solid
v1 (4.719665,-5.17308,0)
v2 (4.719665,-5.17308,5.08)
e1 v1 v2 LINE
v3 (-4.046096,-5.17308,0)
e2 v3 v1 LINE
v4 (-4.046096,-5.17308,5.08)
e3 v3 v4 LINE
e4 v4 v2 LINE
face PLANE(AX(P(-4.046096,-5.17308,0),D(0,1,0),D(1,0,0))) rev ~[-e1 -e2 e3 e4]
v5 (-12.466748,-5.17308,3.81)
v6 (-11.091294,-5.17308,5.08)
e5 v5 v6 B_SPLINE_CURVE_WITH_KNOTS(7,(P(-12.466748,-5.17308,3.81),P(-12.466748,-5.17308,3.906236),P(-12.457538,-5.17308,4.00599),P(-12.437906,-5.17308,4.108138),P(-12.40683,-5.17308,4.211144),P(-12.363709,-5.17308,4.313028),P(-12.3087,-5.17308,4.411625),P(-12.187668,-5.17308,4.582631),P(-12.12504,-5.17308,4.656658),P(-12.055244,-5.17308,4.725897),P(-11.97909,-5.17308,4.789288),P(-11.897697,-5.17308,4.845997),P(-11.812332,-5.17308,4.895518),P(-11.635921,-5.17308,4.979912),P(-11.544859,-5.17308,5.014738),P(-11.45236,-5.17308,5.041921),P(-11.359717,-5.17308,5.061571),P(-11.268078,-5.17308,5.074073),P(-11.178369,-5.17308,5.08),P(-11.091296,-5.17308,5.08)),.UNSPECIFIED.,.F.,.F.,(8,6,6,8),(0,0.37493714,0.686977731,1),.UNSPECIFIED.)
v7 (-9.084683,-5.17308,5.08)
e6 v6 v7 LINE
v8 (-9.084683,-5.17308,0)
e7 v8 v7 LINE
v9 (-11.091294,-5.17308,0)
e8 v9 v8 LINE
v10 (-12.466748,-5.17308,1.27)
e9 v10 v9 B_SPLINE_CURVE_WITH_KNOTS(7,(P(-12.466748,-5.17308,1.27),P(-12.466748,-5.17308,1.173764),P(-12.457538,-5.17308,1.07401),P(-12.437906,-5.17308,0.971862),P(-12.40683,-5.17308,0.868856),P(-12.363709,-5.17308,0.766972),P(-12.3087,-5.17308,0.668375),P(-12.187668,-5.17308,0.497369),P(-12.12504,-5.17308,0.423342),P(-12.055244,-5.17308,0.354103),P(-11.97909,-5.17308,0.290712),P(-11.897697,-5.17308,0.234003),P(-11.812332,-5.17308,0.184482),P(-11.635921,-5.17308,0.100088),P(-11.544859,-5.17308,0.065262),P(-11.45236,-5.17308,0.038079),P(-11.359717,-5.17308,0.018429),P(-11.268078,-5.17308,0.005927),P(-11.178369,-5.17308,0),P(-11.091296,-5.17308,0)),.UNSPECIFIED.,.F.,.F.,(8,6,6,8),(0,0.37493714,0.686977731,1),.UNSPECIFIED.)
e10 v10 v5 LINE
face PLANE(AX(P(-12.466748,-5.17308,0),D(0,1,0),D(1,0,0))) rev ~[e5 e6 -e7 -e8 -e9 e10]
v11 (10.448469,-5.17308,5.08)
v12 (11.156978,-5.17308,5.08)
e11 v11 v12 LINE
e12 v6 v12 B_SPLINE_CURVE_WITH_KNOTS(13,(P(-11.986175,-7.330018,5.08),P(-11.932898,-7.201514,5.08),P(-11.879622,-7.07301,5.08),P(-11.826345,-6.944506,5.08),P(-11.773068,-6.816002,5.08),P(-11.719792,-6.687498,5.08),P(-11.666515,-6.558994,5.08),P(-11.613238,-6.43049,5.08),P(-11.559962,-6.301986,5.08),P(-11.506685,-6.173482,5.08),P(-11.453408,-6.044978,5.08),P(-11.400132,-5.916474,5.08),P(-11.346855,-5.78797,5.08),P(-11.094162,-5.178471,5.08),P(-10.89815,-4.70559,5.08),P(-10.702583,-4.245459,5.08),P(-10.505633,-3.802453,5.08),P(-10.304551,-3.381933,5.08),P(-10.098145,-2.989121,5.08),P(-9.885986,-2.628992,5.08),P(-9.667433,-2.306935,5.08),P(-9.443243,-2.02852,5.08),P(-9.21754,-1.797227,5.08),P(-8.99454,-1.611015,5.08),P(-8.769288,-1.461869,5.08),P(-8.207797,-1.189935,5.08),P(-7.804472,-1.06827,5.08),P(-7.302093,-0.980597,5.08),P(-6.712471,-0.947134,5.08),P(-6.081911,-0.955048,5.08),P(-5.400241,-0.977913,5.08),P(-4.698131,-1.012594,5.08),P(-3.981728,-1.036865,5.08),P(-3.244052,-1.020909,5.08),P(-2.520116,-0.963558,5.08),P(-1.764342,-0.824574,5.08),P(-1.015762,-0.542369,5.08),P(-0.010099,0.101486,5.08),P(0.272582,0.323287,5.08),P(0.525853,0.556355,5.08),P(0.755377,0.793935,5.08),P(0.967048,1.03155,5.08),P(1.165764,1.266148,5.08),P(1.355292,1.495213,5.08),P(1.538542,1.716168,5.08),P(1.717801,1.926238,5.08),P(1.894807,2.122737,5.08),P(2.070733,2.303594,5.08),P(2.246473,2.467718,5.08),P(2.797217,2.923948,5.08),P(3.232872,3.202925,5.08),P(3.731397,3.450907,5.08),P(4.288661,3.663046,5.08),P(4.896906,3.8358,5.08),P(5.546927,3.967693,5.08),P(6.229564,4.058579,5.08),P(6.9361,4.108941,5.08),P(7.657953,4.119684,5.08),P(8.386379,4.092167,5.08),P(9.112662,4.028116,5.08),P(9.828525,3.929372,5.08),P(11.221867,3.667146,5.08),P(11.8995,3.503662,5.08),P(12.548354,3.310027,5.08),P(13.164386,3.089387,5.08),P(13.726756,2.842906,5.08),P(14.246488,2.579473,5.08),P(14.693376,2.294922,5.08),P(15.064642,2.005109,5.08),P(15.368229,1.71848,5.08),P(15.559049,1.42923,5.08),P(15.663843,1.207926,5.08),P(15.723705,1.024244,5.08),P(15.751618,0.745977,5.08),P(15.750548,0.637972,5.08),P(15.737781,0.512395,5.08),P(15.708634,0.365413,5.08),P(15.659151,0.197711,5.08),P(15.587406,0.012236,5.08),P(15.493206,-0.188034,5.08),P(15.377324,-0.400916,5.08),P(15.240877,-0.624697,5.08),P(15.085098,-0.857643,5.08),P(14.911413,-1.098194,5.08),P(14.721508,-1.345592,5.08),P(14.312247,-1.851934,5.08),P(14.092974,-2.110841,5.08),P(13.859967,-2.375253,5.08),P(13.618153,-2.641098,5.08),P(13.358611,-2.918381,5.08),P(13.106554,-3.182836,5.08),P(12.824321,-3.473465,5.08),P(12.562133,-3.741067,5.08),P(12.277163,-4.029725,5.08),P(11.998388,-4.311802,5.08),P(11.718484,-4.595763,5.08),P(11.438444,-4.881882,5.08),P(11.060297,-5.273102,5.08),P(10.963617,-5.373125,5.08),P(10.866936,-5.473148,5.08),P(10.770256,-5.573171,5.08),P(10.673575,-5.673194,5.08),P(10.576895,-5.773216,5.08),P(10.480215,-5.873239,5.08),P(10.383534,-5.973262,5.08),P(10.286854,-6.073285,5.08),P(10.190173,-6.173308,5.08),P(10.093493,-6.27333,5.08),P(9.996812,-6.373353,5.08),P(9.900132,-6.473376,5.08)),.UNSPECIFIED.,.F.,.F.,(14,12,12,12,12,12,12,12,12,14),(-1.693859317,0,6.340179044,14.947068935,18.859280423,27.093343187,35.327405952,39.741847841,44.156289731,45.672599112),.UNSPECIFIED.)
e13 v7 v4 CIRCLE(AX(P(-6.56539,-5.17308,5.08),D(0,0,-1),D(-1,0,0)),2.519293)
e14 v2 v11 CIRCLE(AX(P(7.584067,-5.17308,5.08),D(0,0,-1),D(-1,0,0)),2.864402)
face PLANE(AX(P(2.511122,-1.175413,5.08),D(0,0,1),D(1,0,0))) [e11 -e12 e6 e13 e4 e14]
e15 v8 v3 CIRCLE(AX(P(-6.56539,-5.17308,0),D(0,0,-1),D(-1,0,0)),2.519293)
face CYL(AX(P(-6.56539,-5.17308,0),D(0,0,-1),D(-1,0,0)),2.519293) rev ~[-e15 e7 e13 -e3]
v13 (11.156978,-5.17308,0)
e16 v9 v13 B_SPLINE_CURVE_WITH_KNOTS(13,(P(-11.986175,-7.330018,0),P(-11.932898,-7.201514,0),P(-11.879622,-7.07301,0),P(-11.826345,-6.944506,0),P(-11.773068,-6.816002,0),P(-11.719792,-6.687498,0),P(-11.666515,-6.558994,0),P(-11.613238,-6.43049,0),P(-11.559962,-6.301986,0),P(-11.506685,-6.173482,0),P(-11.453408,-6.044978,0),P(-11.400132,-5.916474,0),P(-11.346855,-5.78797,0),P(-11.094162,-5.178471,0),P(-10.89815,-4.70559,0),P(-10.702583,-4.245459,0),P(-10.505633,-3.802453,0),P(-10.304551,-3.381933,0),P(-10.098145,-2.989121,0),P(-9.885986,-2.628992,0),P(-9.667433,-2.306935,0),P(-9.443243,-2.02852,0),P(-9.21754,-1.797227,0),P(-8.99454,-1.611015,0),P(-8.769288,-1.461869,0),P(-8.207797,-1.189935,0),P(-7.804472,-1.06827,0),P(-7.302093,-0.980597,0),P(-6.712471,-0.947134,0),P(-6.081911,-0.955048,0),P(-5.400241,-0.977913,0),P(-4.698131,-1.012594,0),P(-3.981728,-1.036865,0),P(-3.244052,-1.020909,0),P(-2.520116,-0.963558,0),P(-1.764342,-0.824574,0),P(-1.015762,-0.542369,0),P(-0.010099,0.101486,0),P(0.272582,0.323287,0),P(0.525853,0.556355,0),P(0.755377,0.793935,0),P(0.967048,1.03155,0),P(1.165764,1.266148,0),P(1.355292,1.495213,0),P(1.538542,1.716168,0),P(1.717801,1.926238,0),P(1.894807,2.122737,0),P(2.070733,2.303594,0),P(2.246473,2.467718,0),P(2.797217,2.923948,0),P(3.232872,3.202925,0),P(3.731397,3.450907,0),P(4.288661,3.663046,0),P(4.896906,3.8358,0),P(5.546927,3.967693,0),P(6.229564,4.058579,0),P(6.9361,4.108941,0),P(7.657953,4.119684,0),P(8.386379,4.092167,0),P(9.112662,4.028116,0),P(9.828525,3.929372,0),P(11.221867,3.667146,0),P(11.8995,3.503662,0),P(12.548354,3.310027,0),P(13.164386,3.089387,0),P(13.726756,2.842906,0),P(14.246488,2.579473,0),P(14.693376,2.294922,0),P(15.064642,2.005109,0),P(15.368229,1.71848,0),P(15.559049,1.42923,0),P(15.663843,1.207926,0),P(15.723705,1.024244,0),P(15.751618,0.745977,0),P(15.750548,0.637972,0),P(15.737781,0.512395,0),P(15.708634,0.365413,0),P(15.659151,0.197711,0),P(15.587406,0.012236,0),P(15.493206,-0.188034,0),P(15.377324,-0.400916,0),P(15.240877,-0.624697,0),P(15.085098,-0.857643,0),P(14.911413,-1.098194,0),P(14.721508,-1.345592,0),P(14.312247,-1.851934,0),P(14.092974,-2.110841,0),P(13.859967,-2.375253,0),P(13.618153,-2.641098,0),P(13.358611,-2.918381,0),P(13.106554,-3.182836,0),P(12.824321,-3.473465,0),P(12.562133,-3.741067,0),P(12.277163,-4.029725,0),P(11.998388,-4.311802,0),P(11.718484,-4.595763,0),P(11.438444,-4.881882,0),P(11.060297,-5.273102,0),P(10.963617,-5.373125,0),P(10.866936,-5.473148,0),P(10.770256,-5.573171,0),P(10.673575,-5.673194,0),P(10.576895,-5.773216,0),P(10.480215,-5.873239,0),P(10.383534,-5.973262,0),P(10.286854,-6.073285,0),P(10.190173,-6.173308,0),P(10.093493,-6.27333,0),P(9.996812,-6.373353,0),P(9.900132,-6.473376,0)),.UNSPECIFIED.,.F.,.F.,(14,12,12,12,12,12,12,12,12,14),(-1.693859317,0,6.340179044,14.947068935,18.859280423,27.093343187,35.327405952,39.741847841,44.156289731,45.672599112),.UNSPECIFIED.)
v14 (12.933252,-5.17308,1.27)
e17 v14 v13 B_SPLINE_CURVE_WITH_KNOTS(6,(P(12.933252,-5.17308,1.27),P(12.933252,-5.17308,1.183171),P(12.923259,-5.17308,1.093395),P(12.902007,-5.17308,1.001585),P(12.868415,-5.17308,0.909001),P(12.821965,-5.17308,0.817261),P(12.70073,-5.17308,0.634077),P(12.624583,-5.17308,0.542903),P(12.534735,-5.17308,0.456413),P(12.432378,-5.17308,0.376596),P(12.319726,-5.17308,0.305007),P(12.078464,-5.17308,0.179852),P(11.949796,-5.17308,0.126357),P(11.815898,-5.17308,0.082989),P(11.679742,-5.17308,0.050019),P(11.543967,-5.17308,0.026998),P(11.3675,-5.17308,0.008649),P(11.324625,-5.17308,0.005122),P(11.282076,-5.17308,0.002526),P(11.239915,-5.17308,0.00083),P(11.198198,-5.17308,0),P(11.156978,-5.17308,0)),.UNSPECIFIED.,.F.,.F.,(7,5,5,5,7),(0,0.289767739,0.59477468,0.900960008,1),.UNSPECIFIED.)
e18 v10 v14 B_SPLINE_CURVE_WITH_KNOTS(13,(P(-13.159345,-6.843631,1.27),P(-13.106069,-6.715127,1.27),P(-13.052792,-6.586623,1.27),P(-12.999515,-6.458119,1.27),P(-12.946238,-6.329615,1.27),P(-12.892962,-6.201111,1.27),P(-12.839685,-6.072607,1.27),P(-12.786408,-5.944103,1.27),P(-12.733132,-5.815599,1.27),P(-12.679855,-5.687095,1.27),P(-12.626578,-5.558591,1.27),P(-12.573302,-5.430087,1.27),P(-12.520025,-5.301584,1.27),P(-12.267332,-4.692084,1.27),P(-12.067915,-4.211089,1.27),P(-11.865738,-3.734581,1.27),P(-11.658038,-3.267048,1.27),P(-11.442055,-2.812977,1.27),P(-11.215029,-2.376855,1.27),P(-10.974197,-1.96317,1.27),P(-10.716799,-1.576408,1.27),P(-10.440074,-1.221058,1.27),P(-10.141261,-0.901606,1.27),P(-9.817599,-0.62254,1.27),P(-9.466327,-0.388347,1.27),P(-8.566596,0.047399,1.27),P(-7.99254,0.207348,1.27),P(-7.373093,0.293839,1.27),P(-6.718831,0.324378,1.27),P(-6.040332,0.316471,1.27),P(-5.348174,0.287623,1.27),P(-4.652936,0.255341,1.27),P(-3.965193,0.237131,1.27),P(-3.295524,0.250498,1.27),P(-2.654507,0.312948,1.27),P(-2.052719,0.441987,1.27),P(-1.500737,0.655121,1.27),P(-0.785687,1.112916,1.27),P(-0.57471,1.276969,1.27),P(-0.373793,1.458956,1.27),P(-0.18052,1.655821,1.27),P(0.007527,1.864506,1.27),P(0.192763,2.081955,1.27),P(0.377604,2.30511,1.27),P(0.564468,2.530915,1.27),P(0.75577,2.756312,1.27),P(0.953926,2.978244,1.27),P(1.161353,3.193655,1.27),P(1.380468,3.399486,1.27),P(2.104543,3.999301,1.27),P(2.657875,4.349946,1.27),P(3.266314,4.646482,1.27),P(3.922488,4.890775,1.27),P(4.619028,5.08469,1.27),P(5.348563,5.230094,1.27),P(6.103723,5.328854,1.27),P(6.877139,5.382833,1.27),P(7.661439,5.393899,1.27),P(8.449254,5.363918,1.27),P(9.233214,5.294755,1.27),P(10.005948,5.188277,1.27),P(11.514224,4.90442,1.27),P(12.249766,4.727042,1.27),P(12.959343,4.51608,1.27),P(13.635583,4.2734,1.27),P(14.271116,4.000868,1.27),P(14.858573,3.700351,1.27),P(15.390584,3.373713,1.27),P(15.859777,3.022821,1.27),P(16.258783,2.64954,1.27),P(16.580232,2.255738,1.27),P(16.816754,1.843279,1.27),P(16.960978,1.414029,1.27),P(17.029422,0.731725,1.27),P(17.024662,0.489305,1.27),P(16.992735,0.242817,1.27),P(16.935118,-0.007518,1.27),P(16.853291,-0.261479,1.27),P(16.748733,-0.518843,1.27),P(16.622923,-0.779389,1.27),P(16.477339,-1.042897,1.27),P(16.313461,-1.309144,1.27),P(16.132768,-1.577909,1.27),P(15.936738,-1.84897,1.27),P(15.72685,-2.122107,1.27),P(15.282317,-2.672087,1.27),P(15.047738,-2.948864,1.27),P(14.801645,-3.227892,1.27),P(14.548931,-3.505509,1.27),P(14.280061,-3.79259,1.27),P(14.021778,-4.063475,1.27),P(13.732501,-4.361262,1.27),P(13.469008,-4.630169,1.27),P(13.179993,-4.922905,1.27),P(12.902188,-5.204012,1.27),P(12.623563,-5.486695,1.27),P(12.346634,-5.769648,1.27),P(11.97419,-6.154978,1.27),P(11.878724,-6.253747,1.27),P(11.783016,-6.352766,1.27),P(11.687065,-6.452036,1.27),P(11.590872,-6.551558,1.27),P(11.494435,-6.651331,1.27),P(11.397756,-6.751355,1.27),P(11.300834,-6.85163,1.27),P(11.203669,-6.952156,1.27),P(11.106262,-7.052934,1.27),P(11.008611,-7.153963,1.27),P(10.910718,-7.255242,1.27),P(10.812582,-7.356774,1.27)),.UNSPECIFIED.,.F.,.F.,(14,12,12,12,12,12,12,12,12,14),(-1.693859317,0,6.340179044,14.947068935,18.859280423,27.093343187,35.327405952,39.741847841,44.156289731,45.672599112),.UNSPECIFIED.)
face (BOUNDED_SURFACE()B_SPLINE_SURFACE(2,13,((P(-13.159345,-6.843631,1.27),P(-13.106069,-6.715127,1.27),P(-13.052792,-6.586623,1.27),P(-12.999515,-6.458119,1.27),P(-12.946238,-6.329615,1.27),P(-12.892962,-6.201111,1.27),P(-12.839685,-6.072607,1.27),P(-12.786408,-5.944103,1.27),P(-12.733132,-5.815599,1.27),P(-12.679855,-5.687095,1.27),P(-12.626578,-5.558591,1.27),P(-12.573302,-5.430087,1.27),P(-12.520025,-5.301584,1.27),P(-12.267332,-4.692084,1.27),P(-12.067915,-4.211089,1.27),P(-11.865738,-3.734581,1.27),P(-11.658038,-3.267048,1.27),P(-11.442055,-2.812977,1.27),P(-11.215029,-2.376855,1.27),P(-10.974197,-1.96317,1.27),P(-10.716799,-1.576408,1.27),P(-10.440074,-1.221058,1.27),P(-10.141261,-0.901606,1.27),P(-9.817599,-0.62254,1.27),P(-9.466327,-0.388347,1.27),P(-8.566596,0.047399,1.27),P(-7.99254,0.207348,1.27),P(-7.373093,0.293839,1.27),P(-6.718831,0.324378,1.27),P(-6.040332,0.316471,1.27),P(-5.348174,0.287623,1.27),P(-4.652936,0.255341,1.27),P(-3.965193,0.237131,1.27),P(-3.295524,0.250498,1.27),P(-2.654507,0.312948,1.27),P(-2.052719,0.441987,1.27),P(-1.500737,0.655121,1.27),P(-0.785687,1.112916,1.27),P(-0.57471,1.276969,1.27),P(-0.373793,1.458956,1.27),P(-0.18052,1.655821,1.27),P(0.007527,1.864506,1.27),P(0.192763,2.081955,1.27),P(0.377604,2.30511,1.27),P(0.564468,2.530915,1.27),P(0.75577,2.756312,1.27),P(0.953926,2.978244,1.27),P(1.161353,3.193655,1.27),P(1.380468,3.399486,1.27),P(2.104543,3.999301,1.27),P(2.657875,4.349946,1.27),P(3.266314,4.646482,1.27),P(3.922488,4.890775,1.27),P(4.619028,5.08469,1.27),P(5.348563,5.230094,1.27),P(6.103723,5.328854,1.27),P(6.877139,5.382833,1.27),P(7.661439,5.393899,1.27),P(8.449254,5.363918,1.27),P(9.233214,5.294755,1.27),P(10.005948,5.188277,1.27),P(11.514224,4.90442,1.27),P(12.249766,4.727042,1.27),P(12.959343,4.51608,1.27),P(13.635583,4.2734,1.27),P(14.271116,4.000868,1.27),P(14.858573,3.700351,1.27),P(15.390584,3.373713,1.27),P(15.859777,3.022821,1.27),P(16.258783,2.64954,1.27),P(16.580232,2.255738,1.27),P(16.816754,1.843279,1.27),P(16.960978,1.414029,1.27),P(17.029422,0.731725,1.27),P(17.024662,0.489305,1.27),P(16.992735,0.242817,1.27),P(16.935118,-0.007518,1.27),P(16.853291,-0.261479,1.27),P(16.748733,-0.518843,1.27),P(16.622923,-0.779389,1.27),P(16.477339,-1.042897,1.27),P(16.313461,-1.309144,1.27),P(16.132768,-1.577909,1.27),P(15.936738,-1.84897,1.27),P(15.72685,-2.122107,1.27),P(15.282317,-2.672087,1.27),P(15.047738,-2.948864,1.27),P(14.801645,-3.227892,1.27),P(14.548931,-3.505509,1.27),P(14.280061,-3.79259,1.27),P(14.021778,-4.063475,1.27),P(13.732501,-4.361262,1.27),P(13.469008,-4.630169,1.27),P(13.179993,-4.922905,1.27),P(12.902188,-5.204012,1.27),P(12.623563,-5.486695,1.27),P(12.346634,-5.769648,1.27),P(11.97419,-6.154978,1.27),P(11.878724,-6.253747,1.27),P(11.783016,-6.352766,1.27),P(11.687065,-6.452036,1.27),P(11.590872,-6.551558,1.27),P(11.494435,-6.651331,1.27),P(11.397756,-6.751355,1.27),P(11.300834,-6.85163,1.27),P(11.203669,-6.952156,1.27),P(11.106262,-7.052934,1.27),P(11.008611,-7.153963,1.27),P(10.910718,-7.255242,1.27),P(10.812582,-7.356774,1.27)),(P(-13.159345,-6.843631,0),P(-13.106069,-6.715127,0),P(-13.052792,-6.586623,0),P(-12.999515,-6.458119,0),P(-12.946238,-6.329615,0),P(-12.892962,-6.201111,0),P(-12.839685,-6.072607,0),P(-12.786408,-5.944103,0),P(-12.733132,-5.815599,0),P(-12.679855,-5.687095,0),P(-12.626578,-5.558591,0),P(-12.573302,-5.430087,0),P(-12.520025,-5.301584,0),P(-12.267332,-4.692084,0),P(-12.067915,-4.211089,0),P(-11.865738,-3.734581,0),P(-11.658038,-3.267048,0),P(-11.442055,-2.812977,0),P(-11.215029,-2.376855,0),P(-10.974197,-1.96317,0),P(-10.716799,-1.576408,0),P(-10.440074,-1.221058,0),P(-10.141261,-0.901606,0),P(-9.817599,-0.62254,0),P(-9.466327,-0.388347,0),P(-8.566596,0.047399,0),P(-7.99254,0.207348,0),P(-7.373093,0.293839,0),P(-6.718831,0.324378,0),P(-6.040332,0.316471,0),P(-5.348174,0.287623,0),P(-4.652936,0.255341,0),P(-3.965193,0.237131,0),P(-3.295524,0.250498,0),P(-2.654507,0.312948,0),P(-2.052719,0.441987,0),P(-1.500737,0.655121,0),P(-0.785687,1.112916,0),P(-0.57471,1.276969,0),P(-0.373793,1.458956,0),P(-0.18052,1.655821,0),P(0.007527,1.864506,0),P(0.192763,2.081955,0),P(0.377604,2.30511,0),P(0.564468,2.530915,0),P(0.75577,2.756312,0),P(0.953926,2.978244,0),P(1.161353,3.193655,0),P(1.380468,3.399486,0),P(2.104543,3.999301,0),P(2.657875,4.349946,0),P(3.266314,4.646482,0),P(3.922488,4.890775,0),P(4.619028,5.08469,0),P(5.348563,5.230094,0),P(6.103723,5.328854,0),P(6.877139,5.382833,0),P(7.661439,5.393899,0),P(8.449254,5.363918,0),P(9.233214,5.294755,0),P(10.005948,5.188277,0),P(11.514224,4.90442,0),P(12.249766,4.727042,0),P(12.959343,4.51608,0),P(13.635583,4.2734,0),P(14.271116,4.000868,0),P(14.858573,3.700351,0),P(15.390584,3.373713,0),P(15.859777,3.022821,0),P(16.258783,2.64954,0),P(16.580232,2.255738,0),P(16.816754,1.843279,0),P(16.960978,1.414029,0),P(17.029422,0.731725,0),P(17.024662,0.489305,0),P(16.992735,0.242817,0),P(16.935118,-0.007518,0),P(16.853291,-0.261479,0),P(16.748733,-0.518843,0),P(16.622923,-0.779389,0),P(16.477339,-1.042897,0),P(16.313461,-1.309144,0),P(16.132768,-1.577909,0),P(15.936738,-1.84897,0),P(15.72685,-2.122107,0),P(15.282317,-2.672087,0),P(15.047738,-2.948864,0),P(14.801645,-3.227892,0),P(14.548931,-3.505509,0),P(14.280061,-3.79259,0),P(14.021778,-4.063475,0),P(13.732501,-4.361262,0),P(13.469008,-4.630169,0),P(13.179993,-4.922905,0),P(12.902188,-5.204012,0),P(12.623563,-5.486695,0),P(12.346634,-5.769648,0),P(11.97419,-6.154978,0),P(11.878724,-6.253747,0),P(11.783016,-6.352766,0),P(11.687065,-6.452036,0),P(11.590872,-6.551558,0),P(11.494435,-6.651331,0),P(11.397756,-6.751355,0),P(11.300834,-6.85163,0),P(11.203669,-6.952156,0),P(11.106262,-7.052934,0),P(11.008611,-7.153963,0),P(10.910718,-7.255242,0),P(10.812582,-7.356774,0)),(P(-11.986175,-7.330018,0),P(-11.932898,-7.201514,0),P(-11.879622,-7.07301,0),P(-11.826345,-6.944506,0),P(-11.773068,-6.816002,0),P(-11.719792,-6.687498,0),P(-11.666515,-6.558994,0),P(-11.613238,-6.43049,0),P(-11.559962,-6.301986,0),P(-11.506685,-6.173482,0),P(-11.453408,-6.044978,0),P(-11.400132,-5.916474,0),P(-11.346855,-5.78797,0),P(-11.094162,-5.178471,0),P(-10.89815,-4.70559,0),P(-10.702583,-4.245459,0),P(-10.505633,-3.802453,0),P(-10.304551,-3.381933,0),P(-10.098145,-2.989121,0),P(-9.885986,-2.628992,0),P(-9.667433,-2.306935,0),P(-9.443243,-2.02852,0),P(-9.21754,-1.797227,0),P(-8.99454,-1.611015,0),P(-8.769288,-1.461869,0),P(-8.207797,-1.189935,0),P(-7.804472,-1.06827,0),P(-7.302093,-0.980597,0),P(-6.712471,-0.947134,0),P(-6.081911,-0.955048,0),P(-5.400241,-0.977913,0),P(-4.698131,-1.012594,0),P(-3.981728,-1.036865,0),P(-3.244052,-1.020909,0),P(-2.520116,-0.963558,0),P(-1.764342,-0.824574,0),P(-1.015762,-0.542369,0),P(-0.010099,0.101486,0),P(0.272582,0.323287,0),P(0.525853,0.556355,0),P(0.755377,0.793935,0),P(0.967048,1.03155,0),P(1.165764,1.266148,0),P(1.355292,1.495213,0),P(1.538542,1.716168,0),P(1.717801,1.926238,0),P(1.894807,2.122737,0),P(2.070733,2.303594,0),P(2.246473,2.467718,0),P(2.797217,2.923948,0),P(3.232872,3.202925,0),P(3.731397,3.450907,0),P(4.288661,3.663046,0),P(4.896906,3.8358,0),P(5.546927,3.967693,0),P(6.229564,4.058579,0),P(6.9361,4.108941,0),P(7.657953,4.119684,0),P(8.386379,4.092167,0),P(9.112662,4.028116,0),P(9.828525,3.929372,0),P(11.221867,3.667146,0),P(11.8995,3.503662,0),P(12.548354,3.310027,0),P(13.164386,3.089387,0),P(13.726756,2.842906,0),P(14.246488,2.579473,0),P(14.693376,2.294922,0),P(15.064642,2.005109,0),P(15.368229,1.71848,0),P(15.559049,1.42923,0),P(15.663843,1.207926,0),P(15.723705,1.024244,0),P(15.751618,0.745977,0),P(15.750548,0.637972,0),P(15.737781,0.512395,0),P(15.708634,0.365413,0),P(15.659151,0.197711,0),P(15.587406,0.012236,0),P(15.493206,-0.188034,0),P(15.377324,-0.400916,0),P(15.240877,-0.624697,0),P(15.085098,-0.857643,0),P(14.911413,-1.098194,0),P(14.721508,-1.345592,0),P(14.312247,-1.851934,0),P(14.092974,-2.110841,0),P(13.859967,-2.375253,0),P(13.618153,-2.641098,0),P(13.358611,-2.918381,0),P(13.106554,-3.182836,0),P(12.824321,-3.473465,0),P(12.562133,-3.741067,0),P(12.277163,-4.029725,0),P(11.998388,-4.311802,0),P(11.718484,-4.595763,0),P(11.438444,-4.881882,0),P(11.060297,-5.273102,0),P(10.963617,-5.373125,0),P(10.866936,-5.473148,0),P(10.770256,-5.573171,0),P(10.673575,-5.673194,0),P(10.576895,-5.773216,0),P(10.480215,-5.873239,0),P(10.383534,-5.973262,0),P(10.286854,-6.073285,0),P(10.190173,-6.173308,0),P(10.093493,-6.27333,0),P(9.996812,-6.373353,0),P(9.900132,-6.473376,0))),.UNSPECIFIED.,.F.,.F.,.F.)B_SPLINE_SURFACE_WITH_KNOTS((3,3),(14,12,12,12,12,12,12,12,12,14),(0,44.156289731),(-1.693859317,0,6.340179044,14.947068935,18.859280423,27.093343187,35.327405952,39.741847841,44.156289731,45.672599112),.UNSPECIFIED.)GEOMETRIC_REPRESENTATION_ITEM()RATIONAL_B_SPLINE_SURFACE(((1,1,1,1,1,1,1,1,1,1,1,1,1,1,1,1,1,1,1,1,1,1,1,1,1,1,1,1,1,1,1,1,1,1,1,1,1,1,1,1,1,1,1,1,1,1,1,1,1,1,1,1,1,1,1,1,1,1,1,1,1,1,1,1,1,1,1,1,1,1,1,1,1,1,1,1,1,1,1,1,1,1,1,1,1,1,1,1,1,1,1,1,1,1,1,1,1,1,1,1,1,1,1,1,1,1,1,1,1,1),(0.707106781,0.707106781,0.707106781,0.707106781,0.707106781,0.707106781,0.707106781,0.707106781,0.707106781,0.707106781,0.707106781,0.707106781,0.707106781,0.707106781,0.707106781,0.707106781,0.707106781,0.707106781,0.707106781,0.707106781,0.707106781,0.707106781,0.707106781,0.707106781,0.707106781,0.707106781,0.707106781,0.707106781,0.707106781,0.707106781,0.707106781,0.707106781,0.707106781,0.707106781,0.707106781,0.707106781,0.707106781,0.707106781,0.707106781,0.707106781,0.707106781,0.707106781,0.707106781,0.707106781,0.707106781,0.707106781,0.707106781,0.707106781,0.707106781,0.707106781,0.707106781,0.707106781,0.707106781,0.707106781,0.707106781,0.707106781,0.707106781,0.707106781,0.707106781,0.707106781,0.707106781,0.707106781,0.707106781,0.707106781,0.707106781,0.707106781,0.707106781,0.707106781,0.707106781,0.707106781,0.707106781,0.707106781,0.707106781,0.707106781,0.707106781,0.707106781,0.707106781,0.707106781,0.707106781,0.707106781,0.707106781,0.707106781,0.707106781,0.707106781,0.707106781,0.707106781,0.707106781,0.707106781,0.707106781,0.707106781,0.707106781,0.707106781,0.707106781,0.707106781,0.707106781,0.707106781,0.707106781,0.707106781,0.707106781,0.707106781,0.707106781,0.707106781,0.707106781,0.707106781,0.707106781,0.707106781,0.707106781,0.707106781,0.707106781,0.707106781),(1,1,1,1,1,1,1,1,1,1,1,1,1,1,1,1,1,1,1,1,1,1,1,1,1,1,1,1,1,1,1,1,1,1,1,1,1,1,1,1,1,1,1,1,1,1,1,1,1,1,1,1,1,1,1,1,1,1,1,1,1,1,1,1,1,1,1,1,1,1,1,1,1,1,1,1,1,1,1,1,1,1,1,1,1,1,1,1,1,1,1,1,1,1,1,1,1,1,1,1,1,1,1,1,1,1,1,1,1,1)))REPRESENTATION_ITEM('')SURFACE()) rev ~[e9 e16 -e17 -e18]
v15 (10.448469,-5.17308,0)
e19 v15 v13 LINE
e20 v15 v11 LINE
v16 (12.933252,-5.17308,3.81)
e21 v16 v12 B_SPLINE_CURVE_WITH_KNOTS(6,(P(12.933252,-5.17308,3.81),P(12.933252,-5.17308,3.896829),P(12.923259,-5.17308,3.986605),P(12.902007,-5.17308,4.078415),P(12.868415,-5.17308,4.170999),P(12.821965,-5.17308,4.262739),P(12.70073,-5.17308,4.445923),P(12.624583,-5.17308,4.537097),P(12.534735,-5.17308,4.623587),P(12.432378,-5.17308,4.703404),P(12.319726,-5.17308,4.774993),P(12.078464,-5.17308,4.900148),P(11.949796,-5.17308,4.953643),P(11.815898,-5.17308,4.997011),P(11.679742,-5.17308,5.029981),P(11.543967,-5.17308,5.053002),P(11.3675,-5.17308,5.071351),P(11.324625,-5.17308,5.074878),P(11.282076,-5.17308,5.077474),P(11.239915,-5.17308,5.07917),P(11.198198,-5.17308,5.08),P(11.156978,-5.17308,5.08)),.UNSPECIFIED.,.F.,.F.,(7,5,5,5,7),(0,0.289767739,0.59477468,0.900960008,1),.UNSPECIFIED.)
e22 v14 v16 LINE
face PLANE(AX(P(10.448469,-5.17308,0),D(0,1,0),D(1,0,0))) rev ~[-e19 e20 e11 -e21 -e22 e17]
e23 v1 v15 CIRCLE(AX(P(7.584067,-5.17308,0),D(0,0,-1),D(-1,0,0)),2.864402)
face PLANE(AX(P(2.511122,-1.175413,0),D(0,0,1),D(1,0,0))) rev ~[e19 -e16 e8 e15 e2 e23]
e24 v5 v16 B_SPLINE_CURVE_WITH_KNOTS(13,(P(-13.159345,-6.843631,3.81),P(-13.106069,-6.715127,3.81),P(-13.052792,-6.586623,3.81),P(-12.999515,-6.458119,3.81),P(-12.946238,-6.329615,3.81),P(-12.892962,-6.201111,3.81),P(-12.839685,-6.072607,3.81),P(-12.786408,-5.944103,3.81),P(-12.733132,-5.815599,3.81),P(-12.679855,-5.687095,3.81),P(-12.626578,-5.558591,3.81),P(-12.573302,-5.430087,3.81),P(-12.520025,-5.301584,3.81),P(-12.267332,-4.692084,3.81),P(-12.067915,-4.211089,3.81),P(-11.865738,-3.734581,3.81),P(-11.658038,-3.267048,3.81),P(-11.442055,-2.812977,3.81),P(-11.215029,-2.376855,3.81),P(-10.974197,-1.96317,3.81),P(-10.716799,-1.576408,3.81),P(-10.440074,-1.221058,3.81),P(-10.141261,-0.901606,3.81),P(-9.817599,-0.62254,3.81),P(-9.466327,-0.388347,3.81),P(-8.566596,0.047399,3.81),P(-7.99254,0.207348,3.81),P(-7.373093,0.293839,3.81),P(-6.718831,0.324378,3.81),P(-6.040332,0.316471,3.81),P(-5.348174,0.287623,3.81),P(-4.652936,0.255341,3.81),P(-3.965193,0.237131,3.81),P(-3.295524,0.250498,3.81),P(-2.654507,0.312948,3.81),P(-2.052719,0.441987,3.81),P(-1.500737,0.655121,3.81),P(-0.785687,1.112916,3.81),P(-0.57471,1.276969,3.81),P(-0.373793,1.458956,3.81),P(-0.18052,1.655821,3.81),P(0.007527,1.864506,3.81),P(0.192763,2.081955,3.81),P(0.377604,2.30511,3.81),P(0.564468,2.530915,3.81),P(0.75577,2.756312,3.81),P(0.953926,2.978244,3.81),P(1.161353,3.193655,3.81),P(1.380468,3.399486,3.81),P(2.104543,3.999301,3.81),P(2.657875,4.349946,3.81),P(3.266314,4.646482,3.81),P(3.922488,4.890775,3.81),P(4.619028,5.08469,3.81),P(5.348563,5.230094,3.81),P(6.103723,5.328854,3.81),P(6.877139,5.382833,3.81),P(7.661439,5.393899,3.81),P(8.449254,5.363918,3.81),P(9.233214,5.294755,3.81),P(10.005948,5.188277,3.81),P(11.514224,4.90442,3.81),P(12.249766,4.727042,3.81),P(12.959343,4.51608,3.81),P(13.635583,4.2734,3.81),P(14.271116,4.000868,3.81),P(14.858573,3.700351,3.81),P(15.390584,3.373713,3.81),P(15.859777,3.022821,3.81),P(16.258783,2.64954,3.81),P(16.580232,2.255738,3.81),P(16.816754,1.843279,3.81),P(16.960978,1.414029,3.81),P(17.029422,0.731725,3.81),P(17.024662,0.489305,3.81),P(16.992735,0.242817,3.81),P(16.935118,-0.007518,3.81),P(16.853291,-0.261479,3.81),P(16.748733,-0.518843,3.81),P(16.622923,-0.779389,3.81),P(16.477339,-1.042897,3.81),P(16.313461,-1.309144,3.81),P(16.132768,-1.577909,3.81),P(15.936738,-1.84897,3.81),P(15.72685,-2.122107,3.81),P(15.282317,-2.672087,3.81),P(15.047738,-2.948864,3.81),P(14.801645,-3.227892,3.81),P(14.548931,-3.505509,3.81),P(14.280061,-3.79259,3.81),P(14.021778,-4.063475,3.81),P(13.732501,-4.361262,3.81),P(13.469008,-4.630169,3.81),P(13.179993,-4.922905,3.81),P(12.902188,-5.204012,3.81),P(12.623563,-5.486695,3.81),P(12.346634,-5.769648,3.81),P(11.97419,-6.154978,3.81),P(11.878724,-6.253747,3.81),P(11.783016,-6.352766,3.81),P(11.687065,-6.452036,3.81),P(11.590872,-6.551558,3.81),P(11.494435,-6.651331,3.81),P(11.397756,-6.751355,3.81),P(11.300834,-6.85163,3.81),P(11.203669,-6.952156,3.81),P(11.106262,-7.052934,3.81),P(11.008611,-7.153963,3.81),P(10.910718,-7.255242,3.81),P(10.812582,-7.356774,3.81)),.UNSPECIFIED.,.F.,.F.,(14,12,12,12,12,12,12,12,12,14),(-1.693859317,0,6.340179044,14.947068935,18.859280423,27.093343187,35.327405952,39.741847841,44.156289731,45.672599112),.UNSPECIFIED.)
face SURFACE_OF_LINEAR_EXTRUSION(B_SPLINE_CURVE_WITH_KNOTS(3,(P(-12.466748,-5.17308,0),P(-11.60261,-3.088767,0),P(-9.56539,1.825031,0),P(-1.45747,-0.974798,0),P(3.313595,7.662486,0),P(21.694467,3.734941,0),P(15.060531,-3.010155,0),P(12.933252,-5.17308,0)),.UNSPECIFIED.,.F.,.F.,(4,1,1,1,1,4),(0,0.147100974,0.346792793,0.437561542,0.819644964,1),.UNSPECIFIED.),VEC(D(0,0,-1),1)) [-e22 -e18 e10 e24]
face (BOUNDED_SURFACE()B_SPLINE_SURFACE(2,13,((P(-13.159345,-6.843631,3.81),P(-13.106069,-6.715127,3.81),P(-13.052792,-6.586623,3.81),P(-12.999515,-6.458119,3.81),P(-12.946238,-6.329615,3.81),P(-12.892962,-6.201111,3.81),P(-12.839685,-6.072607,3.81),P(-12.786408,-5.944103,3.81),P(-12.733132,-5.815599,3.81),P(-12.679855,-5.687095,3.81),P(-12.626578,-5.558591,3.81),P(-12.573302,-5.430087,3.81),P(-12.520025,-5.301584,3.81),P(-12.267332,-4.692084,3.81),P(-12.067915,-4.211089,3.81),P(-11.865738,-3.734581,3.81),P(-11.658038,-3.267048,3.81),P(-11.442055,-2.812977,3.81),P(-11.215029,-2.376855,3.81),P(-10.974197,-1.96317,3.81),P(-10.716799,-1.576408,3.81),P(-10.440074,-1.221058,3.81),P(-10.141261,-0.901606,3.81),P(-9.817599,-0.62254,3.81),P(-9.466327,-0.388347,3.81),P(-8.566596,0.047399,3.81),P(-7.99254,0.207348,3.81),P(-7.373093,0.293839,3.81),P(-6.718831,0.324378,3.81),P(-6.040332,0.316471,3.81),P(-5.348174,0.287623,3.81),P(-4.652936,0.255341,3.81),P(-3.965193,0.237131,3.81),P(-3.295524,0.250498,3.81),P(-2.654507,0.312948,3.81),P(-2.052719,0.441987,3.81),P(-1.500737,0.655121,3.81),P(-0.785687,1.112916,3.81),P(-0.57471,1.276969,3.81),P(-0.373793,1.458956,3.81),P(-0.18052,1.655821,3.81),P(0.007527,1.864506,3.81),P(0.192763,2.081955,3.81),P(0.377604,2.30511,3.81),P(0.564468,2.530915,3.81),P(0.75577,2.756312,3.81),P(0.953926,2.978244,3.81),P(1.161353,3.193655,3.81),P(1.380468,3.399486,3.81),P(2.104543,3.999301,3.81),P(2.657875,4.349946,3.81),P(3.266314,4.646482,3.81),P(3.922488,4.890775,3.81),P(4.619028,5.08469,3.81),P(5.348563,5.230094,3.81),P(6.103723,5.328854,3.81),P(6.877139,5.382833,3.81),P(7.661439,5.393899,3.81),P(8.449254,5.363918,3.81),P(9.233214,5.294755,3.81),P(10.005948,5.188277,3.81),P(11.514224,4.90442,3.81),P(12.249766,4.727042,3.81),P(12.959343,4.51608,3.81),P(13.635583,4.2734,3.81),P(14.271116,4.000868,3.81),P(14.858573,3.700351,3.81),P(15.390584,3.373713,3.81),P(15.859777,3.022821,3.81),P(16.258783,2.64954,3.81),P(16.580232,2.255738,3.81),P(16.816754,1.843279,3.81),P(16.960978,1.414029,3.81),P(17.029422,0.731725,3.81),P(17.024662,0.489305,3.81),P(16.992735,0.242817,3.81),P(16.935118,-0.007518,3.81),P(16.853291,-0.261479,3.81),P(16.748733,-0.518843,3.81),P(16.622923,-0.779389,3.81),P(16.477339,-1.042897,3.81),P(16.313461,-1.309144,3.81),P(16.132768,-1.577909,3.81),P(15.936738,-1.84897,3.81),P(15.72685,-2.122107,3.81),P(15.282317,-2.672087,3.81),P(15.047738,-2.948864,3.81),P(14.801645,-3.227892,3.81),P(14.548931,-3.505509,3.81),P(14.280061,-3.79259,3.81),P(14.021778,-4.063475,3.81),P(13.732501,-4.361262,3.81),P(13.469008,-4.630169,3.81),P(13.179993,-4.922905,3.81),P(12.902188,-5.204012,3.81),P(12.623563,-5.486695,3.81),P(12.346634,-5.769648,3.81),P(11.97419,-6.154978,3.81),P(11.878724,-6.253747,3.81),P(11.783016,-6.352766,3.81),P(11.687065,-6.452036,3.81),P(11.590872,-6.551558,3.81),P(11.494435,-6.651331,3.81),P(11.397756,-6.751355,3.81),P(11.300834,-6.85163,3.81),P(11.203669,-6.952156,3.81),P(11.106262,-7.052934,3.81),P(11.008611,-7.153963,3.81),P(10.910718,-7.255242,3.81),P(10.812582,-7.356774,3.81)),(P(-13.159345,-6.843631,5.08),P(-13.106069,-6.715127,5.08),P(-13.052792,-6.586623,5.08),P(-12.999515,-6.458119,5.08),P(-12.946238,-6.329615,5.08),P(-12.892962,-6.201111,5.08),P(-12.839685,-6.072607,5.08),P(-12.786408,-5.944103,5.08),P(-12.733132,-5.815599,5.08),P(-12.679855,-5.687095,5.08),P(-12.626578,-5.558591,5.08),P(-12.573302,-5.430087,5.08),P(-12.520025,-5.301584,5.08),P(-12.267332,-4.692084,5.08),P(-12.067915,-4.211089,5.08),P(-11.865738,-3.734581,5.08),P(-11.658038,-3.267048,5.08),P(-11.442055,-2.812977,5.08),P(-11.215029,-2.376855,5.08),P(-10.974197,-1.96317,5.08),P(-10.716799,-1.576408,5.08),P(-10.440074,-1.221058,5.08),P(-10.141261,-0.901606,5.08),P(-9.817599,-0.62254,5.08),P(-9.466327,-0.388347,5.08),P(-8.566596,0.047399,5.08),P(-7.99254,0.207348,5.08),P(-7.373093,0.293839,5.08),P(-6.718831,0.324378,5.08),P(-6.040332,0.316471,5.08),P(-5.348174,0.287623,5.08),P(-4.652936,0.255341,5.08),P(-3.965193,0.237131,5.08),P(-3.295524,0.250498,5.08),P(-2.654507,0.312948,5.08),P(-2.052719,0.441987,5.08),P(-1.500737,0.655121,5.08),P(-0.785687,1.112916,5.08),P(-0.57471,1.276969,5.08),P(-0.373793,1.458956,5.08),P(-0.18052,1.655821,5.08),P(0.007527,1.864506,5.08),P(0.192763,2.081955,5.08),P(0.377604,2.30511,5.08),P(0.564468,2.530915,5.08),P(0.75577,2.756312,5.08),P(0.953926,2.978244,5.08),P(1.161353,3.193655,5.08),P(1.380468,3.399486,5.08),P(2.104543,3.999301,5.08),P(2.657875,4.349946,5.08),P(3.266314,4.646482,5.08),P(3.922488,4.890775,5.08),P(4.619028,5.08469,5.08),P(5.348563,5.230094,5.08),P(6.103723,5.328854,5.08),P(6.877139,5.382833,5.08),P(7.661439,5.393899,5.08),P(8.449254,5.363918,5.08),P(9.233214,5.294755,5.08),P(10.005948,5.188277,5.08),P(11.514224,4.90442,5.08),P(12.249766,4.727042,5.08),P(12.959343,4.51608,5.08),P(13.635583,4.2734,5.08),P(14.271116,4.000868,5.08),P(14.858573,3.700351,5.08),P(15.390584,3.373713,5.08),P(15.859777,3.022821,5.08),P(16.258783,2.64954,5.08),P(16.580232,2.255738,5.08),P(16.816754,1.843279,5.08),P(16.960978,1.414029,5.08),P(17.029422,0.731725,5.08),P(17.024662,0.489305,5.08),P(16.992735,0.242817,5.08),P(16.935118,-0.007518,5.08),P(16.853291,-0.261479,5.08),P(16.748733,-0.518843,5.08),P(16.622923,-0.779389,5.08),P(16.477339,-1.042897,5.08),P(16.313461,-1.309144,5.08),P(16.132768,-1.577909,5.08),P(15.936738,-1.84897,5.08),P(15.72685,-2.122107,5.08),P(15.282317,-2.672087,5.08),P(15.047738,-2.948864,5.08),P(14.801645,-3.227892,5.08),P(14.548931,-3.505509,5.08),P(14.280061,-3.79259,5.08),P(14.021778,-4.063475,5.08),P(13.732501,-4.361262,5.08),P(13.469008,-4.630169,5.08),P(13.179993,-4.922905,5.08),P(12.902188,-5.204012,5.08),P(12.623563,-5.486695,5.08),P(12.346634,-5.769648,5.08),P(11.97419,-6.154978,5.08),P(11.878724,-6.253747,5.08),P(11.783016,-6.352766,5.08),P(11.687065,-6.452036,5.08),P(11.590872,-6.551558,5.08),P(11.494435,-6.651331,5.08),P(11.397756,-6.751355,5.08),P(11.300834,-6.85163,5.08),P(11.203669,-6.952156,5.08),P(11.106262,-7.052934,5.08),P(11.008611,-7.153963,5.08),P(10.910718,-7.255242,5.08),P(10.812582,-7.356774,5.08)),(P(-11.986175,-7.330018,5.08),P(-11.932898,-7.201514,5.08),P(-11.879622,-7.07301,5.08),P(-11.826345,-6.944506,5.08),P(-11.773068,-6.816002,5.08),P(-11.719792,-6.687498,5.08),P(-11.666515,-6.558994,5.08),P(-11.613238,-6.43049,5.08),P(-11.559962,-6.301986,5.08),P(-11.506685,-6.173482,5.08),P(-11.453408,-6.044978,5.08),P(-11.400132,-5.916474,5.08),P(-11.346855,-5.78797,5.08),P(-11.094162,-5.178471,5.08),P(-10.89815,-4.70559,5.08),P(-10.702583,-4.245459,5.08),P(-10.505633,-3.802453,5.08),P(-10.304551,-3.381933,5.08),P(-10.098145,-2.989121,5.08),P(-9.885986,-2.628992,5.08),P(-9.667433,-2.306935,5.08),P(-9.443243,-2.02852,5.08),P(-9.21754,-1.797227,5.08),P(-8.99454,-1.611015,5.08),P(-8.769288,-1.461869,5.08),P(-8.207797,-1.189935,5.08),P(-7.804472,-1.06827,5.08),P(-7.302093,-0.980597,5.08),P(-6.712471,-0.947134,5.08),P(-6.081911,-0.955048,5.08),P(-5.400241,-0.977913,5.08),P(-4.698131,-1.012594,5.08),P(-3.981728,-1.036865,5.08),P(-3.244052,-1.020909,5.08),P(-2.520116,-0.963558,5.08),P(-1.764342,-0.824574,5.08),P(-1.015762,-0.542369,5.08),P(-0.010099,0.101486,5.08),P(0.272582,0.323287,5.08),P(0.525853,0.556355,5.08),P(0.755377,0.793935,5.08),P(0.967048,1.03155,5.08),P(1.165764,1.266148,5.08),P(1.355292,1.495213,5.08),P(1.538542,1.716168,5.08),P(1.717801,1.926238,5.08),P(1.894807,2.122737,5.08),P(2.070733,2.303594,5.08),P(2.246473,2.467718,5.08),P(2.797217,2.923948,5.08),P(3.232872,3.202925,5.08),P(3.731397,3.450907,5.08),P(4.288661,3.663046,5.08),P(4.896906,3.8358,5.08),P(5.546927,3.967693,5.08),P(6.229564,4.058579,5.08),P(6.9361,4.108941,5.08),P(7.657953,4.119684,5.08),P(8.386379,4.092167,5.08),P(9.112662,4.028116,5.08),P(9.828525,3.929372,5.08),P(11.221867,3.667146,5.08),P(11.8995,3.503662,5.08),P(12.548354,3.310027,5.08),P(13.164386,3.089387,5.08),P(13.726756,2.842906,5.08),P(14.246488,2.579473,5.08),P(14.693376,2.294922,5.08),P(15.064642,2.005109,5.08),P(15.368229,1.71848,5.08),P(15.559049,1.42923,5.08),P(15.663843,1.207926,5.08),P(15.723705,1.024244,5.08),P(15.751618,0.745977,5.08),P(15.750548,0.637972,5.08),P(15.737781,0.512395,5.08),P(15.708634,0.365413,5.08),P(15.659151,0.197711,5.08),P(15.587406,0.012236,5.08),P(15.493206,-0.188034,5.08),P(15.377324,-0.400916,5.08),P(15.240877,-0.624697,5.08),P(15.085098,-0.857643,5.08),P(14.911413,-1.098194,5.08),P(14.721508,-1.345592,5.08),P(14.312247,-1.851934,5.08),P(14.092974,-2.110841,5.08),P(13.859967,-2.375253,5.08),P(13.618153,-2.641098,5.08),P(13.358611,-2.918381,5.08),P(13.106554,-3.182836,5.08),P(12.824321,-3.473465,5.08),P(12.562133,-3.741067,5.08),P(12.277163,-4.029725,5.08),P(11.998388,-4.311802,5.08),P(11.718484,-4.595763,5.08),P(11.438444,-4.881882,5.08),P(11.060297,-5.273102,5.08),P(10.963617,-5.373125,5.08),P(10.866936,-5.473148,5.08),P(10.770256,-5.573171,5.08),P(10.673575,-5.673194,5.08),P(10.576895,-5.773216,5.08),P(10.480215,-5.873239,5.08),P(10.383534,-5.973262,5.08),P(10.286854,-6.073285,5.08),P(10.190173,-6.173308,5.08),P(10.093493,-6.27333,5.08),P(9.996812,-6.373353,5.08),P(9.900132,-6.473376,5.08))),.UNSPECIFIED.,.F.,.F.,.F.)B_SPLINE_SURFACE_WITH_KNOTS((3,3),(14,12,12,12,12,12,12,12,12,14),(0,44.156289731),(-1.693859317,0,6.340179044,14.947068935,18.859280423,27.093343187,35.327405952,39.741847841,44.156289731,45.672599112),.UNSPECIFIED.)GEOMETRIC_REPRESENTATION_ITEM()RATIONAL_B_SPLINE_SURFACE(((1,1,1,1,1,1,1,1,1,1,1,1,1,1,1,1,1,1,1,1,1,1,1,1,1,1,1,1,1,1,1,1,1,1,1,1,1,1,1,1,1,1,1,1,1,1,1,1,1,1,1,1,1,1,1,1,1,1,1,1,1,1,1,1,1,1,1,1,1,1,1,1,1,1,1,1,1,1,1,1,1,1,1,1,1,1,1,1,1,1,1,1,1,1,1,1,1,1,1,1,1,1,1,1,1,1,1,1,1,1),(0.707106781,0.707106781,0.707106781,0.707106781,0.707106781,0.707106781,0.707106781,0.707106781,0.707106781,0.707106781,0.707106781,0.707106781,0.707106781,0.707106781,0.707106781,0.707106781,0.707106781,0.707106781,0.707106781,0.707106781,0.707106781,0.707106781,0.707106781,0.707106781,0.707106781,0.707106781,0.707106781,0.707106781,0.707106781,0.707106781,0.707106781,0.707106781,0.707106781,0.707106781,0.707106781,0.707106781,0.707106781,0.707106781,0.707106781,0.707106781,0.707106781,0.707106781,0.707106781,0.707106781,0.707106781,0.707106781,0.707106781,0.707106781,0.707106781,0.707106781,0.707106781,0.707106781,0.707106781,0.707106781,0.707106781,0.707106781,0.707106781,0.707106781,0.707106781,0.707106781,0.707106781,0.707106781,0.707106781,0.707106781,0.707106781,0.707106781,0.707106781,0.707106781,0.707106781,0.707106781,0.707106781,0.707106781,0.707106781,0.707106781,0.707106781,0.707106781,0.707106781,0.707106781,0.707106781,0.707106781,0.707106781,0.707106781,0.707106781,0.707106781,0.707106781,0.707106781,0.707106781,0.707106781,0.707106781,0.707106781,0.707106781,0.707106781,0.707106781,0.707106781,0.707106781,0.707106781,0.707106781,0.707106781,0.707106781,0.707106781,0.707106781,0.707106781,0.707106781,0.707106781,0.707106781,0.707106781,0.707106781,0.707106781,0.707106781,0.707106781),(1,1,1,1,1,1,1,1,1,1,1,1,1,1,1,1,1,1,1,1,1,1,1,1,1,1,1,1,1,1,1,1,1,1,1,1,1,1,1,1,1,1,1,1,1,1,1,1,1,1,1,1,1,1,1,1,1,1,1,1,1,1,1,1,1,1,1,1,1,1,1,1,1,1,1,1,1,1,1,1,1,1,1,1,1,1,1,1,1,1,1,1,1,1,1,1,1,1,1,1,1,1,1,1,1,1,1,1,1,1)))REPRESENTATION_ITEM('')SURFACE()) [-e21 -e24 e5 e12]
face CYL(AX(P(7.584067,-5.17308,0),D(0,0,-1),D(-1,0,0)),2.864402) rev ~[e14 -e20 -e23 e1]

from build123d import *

# Parameters (mm, degrees)
BOSS_EXTRUDE1_DEPTH = 5.08
FILLET5_R           = 1.27
FILLET6_R           = 1.27


with BuildPart() as part:
    # Sketch1 → Boss-Extrude1 (new body)
    with BuildSketch(Plane.XY):
        with BuildLine():
            Line((-12.466748379, -5.173079569), (-9.084683162, -5.173079569))
            ThreePointArc((-9.084683162, -5.173079569), (-6.565389684, -2.653786091), (-4.046096205, -5.173079569))
            Line((-4.046096205, -5.173079569), (4.719664664, -5.173079569))
            ThreePointArc((4.719664664, -5.173079569), (7.584066838, -2.308677395), (10.448469012, -5.173079569))
            Line((10.448469012, -5.173079569), (12.933251621, -5.173079569))
            add(Edge.make_bspline(
                [(-12.466748379, -5.173079569), (-11.602609758, -3.088767253), (-9.565389759, 1.825030872), (-1.457469592, -0.974797564), (3.313594973, 7.662485597), (21.694466919, 3.734941187), (15.060531025, -3.010154856), (12.933251621, -5.173079569)],
                knots=[0, 0, 0, 0, 0.147100974, 0.346792793, 0.437561542, 0.819644964, 1, 1, 1, 1], degree=3))
        make_face()
    extrude(amount=BOSS_EXTRUDE1_DEPTH)

    # Fillet5
    fillet5_edges = [part.edges().sort_by_distance(p)[0] for p in [
        (4.701887828, 5.017984199, 5.08),
    ]]
    fillet(fillet5_edges, radius=FILLET5_R)

    # Fillet6
    fillet6_edges = [part.edges().sort_by_distance(p)[0] for p in [
        (4.701887828, 5.017984199, 0),
    ]]
    fillet(fillet6_edges, radius=FILLET6_R)


solid = part.part
